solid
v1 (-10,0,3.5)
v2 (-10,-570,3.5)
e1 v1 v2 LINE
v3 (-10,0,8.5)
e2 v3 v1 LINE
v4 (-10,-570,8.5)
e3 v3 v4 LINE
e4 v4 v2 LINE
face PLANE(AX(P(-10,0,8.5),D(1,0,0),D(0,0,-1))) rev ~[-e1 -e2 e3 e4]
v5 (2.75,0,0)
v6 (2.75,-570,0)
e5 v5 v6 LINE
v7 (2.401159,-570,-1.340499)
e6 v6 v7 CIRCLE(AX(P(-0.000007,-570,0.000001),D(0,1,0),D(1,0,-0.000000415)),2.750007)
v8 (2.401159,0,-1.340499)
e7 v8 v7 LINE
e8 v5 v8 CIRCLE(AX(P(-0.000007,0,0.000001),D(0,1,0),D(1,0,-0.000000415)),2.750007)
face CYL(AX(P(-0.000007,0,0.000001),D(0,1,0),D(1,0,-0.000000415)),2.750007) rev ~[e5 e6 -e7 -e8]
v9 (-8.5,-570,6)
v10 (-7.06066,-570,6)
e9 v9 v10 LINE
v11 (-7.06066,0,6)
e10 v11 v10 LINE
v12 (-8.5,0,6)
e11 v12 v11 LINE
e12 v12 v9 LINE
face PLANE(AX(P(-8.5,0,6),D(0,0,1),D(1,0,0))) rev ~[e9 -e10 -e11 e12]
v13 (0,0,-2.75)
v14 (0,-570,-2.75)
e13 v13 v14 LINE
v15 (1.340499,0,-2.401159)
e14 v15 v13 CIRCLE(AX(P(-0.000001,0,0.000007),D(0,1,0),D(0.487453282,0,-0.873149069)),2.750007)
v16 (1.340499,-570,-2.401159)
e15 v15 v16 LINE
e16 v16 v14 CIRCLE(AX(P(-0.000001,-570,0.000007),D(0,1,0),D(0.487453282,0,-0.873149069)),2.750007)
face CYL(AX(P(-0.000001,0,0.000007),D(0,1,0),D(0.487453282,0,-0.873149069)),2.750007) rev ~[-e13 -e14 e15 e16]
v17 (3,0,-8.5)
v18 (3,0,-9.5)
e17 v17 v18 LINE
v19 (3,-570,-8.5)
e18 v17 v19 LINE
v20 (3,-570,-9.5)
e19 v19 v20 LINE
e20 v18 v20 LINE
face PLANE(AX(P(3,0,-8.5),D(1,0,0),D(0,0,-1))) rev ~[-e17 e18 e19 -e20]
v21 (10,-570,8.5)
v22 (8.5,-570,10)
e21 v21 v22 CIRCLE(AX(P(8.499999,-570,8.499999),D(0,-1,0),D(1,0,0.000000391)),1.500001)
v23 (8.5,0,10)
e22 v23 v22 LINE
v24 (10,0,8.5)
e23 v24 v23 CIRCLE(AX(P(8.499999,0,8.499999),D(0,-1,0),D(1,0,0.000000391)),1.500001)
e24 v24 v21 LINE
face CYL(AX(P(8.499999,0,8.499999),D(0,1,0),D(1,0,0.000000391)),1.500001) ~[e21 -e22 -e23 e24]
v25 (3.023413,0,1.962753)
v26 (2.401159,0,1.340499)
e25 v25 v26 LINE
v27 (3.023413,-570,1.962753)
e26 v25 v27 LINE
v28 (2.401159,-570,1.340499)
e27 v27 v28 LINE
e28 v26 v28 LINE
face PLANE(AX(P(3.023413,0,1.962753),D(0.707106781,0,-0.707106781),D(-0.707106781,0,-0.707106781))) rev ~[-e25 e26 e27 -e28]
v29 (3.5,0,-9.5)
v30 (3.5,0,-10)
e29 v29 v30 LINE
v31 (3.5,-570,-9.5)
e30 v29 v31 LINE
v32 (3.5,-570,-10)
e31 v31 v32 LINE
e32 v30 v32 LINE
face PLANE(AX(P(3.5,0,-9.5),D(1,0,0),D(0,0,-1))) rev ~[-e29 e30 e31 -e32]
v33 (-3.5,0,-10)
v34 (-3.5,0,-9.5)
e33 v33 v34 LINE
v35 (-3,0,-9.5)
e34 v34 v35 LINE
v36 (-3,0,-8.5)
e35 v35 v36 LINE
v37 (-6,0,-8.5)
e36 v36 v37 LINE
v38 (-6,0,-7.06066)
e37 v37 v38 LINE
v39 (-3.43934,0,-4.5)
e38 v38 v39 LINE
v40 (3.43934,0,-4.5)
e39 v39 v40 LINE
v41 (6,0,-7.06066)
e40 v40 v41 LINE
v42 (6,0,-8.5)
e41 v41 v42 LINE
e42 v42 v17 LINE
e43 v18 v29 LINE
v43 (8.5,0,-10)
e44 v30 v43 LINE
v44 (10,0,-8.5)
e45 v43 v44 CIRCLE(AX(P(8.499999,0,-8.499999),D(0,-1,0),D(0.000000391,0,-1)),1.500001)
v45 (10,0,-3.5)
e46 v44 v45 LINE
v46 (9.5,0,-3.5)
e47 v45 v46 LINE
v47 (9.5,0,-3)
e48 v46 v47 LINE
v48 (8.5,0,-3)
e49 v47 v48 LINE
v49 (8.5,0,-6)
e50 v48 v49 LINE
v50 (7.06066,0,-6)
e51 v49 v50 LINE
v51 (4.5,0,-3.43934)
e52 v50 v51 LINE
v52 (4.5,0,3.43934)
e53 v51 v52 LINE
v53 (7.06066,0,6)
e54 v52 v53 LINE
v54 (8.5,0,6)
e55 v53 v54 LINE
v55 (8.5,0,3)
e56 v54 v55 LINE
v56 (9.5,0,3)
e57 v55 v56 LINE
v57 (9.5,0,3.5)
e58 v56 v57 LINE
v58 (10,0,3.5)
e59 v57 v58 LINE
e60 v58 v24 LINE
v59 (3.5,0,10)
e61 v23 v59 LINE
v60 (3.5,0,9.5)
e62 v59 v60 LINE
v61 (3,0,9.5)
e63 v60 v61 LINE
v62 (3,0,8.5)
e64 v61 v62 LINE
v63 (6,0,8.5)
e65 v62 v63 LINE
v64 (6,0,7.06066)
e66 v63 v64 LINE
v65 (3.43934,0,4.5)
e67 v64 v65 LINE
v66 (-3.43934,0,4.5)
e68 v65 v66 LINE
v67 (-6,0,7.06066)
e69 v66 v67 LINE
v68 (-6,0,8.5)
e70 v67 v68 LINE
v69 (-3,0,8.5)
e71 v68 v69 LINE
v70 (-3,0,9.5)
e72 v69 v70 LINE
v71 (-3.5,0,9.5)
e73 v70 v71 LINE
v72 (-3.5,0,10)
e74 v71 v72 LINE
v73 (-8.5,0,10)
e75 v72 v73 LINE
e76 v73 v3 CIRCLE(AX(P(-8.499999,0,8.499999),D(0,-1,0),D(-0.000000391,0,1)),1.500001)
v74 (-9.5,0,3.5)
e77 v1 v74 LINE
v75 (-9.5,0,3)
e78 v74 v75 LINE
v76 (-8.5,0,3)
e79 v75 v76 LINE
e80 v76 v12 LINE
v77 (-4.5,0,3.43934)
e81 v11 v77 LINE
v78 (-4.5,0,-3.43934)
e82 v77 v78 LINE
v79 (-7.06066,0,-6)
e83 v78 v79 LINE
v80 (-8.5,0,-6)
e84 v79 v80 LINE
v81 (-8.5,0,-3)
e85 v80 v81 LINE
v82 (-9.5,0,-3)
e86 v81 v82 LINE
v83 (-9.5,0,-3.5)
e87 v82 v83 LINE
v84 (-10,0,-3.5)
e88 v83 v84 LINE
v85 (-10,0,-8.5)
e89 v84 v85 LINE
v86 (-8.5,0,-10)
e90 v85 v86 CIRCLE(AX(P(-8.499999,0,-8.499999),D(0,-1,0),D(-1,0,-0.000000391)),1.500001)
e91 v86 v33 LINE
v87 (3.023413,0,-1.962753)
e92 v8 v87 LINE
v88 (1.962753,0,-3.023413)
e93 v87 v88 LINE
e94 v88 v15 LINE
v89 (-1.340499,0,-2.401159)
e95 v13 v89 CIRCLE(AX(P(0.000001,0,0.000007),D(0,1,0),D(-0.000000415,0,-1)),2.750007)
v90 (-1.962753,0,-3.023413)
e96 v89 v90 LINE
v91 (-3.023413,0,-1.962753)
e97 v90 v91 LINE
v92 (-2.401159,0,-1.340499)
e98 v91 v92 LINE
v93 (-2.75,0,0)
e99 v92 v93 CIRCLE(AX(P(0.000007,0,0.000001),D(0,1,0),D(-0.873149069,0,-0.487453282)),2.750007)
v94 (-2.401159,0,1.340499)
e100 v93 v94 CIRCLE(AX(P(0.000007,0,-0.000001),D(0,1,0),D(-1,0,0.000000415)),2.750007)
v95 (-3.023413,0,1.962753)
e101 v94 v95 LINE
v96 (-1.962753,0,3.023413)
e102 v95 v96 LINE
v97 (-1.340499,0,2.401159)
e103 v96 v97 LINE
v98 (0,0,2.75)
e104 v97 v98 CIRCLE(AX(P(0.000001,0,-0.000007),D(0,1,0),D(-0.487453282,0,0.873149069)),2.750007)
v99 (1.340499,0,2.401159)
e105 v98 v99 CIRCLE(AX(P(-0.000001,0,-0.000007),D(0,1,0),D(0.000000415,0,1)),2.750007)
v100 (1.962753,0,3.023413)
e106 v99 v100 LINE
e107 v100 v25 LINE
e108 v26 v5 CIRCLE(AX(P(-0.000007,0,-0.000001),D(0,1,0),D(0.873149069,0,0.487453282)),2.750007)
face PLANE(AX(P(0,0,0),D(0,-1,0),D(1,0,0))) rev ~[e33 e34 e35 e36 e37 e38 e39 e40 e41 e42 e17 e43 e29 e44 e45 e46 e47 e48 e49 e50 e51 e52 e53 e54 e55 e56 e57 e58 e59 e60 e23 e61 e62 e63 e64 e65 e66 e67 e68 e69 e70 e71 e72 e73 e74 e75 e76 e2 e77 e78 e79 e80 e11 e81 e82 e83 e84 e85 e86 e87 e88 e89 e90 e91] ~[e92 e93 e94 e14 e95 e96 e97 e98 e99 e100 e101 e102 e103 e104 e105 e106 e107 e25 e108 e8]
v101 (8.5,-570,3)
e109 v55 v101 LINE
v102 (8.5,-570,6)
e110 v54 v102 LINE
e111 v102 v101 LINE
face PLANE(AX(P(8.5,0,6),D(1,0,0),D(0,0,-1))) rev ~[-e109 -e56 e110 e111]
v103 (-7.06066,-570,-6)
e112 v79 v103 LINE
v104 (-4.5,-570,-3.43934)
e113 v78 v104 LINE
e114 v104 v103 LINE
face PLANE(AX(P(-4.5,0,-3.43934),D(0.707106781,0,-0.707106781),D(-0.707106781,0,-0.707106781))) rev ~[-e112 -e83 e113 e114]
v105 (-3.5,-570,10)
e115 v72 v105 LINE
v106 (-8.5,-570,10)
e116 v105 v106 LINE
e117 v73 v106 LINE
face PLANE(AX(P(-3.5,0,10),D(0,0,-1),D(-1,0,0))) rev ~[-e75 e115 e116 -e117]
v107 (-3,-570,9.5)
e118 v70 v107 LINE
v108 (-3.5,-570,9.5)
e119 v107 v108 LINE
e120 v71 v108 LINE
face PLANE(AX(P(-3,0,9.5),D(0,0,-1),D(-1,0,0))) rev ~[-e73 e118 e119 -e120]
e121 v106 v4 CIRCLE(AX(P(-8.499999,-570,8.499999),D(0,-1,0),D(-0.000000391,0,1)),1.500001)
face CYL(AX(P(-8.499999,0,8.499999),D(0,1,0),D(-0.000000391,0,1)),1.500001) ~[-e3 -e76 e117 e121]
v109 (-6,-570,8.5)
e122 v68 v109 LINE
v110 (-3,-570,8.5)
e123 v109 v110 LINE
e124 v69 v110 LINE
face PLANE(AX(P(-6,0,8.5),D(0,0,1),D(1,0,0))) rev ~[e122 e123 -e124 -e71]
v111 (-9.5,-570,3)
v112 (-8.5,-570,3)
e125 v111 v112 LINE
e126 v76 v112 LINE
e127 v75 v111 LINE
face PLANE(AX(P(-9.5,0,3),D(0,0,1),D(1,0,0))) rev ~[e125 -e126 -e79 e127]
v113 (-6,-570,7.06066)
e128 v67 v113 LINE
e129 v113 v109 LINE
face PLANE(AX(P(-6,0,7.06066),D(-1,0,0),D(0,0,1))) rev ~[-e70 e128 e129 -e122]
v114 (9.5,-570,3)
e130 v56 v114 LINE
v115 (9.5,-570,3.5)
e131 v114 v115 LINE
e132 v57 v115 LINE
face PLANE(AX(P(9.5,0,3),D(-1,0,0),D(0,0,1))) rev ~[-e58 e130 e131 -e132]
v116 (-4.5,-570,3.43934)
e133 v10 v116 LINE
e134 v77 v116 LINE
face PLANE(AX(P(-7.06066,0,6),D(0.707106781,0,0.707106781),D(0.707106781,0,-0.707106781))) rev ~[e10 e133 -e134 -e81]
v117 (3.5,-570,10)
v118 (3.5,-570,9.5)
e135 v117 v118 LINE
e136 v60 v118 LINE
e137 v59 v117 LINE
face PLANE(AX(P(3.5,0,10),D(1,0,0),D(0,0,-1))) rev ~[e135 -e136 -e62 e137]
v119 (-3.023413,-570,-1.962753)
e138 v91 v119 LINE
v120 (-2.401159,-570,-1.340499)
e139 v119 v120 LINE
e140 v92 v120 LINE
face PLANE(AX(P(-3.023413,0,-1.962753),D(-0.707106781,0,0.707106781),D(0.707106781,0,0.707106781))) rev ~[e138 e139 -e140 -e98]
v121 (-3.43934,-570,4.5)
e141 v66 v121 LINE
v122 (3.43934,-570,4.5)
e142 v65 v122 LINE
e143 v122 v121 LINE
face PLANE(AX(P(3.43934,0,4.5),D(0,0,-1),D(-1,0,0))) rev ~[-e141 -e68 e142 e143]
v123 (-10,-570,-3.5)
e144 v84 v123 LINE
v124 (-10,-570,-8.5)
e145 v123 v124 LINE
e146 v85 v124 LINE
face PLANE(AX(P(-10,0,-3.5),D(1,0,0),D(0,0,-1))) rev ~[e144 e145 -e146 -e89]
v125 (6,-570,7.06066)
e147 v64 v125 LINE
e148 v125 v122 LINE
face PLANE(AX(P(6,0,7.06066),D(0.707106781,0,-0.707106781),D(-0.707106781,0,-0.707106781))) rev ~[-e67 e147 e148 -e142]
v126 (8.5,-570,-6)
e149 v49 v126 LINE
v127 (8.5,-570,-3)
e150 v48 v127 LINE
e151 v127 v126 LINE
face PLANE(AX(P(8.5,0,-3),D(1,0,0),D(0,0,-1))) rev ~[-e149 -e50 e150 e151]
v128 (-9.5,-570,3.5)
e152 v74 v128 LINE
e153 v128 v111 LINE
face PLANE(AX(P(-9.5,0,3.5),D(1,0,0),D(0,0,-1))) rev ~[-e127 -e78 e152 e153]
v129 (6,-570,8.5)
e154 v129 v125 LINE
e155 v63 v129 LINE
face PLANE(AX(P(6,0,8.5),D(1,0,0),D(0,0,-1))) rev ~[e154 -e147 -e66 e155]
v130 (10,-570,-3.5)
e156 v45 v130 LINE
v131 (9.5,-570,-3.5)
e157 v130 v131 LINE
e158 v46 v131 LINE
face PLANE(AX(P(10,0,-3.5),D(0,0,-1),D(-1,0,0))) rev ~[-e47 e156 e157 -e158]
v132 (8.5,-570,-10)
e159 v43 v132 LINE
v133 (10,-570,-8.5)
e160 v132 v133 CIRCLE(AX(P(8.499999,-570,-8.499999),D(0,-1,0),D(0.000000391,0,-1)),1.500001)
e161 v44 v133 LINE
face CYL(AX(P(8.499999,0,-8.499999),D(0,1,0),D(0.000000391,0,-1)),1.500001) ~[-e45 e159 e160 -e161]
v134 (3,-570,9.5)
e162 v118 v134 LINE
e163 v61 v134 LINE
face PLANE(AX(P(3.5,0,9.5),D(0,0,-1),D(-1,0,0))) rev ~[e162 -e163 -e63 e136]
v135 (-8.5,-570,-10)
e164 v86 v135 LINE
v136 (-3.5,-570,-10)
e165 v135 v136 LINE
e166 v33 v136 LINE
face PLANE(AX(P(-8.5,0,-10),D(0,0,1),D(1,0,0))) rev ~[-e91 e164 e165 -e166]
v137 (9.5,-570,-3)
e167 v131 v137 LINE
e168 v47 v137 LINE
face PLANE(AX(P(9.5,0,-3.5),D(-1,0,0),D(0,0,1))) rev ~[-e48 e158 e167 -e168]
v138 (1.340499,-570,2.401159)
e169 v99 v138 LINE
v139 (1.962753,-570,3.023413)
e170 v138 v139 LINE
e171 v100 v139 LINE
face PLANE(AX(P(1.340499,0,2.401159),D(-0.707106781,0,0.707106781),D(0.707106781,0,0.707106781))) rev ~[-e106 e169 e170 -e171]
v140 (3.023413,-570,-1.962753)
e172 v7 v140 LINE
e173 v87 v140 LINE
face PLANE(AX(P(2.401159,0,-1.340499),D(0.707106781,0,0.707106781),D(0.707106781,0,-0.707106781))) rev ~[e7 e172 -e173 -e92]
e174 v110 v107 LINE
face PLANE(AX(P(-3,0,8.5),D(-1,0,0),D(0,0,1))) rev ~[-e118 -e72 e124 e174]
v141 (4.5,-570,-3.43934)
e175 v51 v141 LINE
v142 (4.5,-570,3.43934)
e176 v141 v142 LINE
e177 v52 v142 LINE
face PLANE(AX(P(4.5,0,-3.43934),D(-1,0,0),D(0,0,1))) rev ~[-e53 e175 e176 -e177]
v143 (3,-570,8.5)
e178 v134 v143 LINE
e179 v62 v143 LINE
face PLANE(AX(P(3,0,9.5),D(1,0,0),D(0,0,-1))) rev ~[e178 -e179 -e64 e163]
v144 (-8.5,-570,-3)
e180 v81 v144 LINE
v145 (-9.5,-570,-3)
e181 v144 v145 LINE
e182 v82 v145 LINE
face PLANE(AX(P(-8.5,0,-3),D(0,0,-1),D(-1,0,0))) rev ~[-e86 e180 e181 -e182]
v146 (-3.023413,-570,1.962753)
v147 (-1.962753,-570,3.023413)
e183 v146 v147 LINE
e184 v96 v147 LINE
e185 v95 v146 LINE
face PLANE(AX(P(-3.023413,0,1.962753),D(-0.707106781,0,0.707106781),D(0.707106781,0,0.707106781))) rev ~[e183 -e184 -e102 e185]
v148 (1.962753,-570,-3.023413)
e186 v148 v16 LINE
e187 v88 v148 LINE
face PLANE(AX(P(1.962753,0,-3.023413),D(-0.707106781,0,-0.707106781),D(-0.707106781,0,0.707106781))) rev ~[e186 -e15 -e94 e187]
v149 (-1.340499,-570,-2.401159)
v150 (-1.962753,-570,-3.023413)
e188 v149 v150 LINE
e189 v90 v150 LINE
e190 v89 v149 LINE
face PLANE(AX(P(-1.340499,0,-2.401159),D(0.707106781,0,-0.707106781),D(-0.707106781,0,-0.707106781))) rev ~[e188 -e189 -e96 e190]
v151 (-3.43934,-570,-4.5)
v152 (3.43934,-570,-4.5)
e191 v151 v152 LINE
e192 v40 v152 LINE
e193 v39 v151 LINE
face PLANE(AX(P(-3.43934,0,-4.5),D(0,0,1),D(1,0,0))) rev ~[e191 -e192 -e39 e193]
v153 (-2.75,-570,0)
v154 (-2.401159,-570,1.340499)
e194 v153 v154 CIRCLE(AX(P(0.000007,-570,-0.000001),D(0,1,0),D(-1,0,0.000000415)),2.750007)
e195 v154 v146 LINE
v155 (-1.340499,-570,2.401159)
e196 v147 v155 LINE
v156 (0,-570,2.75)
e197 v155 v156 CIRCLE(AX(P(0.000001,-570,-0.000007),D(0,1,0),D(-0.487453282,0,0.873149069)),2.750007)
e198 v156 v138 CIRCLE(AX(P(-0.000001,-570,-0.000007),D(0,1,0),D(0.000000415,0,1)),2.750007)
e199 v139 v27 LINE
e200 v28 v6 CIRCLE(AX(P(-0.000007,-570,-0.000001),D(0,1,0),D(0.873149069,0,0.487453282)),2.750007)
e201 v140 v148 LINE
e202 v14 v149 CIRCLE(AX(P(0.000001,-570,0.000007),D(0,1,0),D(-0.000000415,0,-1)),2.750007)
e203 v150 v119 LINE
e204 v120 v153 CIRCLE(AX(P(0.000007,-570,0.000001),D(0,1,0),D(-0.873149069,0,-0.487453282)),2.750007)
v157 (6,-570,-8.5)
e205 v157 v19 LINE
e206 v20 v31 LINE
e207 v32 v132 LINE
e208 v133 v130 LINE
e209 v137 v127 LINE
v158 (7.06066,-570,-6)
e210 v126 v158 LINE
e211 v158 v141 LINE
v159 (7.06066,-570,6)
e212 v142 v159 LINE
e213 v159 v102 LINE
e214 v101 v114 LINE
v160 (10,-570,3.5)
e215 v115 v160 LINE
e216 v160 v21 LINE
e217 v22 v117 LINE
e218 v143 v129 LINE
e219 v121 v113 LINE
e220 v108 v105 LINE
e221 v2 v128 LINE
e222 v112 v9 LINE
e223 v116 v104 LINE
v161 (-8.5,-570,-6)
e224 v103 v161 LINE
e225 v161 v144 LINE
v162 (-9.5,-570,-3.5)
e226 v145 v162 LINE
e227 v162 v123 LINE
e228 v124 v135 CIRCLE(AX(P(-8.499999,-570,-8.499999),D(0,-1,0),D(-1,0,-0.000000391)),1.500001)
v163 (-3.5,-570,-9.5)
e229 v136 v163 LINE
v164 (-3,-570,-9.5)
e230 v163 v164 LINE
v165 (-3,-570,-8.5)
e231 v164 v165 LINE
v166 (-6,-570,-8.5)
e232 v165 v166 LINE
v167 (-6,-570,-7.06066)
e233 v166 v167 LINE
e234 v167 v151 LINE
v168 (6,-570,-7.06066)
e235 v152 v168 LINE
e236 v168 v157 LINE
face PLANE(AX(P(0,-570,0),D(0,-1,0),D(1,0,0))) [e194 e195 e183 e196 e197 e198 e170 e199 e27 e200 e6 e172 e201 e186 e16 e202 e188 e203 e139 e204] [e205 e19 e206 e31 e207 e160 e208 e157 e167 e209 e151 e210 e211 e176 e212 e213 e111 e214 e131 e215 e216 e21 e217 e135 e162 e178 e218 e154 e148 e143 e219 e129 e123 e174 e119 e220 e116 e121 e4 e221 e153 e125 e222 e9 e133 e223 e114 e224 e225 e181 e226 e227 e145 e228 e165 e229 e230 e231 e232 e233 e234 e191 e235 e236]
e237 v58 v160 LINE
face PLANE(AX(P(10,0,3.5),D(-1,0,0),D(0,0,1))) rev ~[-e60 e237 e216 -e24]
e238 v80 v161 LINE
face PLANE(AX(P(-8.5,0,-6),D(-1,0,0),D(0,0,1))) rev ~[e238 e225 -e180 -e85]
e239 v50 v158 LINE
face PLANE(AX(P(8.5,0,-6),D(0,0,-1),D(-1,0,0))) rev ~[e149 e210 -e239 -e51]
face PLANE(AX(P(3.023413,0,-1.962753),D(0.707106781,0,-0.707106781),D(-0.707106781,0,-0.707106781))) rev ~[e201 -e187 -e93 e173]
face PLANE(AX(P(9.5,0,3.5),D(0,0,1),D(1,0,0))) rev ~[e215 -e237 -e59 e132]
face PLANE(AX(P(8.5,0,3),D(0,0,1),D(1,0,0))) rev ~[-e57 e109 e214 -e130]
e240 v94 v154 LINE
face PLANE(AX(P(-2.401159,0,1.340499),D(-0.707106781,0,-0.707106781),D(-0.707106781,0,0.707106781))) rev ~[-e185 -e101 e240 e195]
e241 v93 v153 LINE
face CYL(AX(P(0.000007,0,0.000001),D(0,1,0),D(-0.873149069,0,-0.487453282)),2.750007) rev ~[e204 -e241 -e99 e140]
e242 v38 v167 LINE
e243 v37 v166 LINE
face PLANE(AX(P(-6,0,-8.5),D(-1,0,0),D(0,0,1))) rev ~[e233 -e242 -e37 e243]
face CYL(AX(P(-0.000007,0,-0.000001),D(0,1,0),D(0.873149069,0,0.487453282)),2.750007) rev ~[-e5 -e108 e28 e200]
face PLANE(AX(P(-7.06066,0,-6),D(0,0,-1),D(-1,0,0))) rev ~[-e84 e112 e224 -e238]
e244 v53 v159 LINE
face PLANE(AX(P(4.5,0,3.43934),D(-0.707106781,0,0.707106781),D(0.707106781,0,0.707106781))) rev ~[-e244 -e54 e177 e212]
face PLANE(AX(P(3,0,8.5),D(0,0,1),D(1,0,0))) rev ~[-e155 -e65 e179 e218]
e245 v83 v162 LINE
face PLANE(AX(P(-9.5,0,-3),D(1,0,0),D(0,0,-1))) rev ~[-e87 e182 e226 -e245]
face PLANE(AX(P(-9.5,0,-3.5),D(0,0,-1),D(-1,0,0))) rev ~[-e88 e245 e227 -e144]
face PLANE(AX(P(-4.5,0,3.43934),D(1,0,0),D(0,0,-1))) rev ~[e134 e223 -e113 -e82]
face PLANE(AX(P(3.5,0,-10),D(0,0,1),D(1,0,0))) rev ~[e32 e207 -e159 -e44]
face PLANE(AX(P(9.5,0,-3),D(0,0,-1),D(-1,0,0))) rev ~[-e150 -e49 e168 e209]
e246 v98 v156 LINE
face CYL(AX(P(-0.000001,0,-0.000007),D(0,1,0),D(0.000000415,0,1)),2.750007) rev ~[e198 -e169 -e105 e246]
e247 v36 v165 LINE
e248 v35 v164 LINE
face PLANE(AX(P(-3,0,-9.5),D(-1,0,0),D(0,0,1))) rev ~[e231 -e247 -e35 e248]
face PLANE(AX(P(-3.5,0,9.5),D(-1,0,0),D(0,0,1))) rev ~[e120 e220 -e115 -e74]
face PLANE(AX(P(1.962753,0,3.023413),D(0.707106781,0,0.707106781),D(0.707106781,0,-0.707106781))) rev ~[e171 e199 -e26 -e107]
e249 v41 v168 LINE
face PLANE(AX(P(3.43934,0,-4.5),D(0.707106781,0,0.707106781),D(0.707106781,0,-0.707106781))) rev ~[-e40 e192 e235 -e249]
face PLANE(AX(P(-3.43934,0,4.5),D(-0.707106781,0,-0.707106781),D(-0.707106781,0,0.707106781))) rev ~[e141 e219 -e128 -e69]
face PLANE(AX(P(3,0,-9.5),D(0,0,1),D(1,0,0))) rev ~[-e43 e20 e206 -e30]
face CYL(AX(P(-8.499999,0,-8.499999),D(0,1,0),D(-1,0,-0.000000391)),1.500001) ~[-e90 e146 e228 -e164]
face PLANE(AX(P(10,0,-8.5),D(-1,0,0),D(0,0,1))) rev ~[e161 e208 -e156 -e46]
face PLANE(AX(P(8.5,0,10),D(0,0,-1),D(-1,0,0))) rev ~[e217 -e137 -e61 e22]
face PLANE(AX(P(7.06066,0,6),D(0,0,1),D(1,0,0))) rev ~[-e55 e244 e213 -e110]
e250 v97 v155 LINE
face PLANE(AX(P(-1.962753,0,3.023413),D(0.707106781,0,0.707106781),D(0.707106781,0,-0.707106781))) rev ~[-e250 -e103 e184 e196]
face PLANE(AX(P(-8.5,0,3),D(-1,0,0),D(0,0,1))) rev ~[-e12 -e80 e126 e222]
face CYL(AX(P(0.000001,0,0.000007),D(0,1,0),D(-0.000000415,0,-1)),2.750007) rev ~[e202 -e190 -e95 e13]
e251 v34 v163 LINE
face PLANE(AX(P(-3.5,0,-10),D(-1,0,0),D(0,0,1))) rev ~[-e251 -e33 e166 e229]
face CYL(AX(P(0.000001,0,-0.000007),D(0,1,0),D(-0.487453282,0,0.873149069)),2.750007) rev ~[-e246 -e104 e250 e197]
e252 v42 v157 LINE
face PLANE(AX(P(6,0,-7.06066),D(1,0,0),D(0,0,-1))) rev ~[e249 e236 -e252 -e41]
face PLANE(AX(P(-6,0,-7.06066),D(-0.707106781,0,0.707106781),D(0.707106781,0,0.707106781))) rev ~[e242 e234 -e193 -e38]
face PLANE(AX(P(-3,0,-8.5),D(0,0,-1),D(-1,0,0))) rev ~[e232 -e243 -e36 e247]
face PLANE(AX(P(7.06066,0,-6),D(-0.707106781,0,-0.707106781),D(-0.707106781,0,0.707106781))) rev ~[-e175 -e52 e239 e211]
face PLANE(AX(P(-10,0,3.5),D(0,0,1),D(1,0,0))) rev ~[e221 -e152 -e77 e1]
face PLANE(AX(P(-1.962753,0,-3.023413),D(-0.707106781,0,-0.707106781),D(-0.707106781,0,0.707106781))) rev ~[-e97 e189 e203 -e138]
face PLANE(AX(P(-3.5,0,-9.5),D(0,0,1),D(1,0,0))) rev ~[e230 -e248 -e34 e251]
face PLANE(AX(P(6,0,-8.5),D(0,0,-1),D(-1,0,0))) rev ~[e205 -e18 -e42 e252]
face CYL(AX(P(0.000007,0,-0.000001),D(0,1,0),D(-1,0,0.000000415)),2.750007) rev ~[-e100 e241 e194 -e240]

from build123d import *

# Parameters (mm, degrees)
F1_DEPTH = 570


with BuildPart() as f1:
    # F0 (on Front) → F1 (new body)
    with BuildSketch(Plane.XZ):
        with BuildLine():
            Line((3.43934, 4.5), (0, 4.5))
            Line((0, 4.5), (-3.43934, 4.5))
            Line((-3.43934, 4.5), (-6, 7.06066))
            Line((-6, 7.06066), (-6, 8.5))
            Line((-6, 8.5), (-3, 8.5))
            Line((-3, 8.5), (-3, 9.5))
            Line((-3, 9.5), (-3.5, 9.5))
            Line((-3.5, 9.5), (-3.5, 10))
            Line((-3.5, 10), (-8.5, 10))
            ThreePointArc((-8.5, 10), (-9.56066, 9.56066), (-10, 8.5))
            Line((-10, 8.5), (-10, 3.5))
            Line((-10, 3.5), (-9.5, 3.5))
            Line((-9.5, 3.5), (-9.5, 3))
            Line((-9.5, 3), (-8.5, 3))
            Line((-8.5, 3), (-8.5, 6))
            Line((-8.5, 6), (-7.06066, 6))
            Line((-7.06066, 6), (-4.5, 3.43934))
            Line((-4.5, 3.43934), (-4.5, 0))
            Line((-4.5, 0), (-4.5, -3.43934))
            Line((-4.5, -3.43934), (-7.06066, -6))
            Line((-7.06066, -6), (-8.5, -6))
            Line((-8.5, -6), (-8.5, -3))
            Line((-8.5, -3), (-9.5, -3))
            Line((-9.5, -3), (-9.5, -3.5))
            Line((-9.5, -3.5), (-10, -3.5))
            Line((-10, -3.5), (-10, -8.5))
            ThreePointArc((-10, -8.5), (-9.56066, -9.56066), (-8.5, -10))
            Line((-8.5, -10), (-3.5, -10))
            Line((-3.5, -10), (-3.5, -9.5))
            Line((-3.5, -9.5), (-3, -9.5))
            Line((-3, -9.5), (-3, -8.5))
            Line((-3, -8.5), (-6, -8.5))
            Line((-6, -8.5), (-6, -7.06066))
            Line((-6, -7.06066), (-3.43934, -4.5))
            Line((-3.43934, -4.5), (0, -4.5))
            Line((0, -4.5), (3.43934, -4.5))
            Line((3.43934, -4.5), (6, -7.06066))
            Line((6, -7.06066), (6, -8.5))
            Line((6, -8.5), (3, -8.5))
            Line((3, -8.5), (3, -9.5))
            Line((3, -9.5), (3.5, -9.5))
            Line((3.5, -9.5), (3.5, -10))
            Line((3.5, -10), (8.5, -10))
            ThreePointArc((8.5, -10), (9.56066, -9.56066), (10, -8.5))
            Line((10, -8.5), (10, -3.5))
            Line((10, -3.5), (9.5, -3.5))
            Line((9.5, -3.5), (9.5, -3))
            Line((9.5, -3), (8.5, -3))
            Line((8.5, -3), (8.5, -6))
            Line((8.5, -6), (7.06066, -6))
            Line((7.06066, -6), (4.5, -3.43934))
            Line((4.5, -3.43934), (4.5, 0))
            Line((4.5, 0), (4.5, 3.43934))
            Line((4.5, 3.43934), (7.06066, 6))
            Line((7.06066, 6), (8.5, 6))
            Line((8.5, 6), (8.5, 3))
            Line((8.5, 3), (9.5, 3))
            Line((9.5, 3), (9.5, 3.5))
            Line((9.5, 3.5), (10, 3.5))
            Line((10, 3.5), (10, 8.5))
            ThreePointArc((10, 8.5), (9.56066, 9.56066), (8.5, 10))
            Line((8.5, 10), (3.5, 10))
            Line((3.5, 10), (3.5, 9.5))
            Line((3.5, 9.5), (3, 9.5))
            Line((3, 9.5), (3, 8.5))
            Line((3, 8.5), (6, 8.5))
            Line((6, 8.5), (6, 7.06066))
            Line((6, 7.06066), (3.43934, 4.5))
        make_face()
        with BuildLine():
            ThreePointArc((-1.340499, 2.401159), (-0.692573, 2.661361), (0, 2.75))
            ThreePointArc((0, 2.75), (0.692573, 2.661361), (1.340499, 2.401159))
            Line((1.340499, 2.401159), (1.962753, 3.023413))
            Line((1.962753, 3.023413), (3.023413, 1.962753))
            Line((3.023413, 1.962753), (2.401159, 1.340499))
            ThreePointArc((2.401159, 1.340499), (2.661361, 0.692573), (2.75, 0))
            ThreePointArc((2.75, 0), (2.661361, -0.692573), (2.401159, -1.340499))
            Line((2.401159, -1.340499), (3.023413, -1.962753))
            Line((3.023413, -1.962753), (1.962753, -3.023413))
            Line((1.962753, -3.023413), (1.340499, -2.401159))
            ThreePointArc((1.340499, -2.401159), (0.692573, -2.661361), (0, -2.75))
            ThreePointArc((0, -2.75), (-0.692573, -2.661361), (-1.340499, -2.401159))
            Line((-1.340499, -2.401159), (-1.962753, -3.023413))
            Line((-1.962753, -3.023413), (-3.023413, -1.962753))
            Line((-3.023413, -1.962753), (-2.401159, -1.340499))
            ThreePointArc((-2.401159, -1.340499), (-2.661361, -0.692573), (-2.75, 0))
            ThreePointArc((-2.75, 0), (-2.661361, 0.692573), (-2.401159, 1.340499))
            Line((-2.401159, 1.340499), (-3.023413, 1.962753))
            Line((-3.023413, 1.962753), (-1.962753, 3.023413))
            Line((-1.962753, 3.023413), (-1.340499, 2.401159))
        make_face(mode=Mode.SUBTRACT)
    extrude(amount=F1_DEPTH)


solid = f1.part
